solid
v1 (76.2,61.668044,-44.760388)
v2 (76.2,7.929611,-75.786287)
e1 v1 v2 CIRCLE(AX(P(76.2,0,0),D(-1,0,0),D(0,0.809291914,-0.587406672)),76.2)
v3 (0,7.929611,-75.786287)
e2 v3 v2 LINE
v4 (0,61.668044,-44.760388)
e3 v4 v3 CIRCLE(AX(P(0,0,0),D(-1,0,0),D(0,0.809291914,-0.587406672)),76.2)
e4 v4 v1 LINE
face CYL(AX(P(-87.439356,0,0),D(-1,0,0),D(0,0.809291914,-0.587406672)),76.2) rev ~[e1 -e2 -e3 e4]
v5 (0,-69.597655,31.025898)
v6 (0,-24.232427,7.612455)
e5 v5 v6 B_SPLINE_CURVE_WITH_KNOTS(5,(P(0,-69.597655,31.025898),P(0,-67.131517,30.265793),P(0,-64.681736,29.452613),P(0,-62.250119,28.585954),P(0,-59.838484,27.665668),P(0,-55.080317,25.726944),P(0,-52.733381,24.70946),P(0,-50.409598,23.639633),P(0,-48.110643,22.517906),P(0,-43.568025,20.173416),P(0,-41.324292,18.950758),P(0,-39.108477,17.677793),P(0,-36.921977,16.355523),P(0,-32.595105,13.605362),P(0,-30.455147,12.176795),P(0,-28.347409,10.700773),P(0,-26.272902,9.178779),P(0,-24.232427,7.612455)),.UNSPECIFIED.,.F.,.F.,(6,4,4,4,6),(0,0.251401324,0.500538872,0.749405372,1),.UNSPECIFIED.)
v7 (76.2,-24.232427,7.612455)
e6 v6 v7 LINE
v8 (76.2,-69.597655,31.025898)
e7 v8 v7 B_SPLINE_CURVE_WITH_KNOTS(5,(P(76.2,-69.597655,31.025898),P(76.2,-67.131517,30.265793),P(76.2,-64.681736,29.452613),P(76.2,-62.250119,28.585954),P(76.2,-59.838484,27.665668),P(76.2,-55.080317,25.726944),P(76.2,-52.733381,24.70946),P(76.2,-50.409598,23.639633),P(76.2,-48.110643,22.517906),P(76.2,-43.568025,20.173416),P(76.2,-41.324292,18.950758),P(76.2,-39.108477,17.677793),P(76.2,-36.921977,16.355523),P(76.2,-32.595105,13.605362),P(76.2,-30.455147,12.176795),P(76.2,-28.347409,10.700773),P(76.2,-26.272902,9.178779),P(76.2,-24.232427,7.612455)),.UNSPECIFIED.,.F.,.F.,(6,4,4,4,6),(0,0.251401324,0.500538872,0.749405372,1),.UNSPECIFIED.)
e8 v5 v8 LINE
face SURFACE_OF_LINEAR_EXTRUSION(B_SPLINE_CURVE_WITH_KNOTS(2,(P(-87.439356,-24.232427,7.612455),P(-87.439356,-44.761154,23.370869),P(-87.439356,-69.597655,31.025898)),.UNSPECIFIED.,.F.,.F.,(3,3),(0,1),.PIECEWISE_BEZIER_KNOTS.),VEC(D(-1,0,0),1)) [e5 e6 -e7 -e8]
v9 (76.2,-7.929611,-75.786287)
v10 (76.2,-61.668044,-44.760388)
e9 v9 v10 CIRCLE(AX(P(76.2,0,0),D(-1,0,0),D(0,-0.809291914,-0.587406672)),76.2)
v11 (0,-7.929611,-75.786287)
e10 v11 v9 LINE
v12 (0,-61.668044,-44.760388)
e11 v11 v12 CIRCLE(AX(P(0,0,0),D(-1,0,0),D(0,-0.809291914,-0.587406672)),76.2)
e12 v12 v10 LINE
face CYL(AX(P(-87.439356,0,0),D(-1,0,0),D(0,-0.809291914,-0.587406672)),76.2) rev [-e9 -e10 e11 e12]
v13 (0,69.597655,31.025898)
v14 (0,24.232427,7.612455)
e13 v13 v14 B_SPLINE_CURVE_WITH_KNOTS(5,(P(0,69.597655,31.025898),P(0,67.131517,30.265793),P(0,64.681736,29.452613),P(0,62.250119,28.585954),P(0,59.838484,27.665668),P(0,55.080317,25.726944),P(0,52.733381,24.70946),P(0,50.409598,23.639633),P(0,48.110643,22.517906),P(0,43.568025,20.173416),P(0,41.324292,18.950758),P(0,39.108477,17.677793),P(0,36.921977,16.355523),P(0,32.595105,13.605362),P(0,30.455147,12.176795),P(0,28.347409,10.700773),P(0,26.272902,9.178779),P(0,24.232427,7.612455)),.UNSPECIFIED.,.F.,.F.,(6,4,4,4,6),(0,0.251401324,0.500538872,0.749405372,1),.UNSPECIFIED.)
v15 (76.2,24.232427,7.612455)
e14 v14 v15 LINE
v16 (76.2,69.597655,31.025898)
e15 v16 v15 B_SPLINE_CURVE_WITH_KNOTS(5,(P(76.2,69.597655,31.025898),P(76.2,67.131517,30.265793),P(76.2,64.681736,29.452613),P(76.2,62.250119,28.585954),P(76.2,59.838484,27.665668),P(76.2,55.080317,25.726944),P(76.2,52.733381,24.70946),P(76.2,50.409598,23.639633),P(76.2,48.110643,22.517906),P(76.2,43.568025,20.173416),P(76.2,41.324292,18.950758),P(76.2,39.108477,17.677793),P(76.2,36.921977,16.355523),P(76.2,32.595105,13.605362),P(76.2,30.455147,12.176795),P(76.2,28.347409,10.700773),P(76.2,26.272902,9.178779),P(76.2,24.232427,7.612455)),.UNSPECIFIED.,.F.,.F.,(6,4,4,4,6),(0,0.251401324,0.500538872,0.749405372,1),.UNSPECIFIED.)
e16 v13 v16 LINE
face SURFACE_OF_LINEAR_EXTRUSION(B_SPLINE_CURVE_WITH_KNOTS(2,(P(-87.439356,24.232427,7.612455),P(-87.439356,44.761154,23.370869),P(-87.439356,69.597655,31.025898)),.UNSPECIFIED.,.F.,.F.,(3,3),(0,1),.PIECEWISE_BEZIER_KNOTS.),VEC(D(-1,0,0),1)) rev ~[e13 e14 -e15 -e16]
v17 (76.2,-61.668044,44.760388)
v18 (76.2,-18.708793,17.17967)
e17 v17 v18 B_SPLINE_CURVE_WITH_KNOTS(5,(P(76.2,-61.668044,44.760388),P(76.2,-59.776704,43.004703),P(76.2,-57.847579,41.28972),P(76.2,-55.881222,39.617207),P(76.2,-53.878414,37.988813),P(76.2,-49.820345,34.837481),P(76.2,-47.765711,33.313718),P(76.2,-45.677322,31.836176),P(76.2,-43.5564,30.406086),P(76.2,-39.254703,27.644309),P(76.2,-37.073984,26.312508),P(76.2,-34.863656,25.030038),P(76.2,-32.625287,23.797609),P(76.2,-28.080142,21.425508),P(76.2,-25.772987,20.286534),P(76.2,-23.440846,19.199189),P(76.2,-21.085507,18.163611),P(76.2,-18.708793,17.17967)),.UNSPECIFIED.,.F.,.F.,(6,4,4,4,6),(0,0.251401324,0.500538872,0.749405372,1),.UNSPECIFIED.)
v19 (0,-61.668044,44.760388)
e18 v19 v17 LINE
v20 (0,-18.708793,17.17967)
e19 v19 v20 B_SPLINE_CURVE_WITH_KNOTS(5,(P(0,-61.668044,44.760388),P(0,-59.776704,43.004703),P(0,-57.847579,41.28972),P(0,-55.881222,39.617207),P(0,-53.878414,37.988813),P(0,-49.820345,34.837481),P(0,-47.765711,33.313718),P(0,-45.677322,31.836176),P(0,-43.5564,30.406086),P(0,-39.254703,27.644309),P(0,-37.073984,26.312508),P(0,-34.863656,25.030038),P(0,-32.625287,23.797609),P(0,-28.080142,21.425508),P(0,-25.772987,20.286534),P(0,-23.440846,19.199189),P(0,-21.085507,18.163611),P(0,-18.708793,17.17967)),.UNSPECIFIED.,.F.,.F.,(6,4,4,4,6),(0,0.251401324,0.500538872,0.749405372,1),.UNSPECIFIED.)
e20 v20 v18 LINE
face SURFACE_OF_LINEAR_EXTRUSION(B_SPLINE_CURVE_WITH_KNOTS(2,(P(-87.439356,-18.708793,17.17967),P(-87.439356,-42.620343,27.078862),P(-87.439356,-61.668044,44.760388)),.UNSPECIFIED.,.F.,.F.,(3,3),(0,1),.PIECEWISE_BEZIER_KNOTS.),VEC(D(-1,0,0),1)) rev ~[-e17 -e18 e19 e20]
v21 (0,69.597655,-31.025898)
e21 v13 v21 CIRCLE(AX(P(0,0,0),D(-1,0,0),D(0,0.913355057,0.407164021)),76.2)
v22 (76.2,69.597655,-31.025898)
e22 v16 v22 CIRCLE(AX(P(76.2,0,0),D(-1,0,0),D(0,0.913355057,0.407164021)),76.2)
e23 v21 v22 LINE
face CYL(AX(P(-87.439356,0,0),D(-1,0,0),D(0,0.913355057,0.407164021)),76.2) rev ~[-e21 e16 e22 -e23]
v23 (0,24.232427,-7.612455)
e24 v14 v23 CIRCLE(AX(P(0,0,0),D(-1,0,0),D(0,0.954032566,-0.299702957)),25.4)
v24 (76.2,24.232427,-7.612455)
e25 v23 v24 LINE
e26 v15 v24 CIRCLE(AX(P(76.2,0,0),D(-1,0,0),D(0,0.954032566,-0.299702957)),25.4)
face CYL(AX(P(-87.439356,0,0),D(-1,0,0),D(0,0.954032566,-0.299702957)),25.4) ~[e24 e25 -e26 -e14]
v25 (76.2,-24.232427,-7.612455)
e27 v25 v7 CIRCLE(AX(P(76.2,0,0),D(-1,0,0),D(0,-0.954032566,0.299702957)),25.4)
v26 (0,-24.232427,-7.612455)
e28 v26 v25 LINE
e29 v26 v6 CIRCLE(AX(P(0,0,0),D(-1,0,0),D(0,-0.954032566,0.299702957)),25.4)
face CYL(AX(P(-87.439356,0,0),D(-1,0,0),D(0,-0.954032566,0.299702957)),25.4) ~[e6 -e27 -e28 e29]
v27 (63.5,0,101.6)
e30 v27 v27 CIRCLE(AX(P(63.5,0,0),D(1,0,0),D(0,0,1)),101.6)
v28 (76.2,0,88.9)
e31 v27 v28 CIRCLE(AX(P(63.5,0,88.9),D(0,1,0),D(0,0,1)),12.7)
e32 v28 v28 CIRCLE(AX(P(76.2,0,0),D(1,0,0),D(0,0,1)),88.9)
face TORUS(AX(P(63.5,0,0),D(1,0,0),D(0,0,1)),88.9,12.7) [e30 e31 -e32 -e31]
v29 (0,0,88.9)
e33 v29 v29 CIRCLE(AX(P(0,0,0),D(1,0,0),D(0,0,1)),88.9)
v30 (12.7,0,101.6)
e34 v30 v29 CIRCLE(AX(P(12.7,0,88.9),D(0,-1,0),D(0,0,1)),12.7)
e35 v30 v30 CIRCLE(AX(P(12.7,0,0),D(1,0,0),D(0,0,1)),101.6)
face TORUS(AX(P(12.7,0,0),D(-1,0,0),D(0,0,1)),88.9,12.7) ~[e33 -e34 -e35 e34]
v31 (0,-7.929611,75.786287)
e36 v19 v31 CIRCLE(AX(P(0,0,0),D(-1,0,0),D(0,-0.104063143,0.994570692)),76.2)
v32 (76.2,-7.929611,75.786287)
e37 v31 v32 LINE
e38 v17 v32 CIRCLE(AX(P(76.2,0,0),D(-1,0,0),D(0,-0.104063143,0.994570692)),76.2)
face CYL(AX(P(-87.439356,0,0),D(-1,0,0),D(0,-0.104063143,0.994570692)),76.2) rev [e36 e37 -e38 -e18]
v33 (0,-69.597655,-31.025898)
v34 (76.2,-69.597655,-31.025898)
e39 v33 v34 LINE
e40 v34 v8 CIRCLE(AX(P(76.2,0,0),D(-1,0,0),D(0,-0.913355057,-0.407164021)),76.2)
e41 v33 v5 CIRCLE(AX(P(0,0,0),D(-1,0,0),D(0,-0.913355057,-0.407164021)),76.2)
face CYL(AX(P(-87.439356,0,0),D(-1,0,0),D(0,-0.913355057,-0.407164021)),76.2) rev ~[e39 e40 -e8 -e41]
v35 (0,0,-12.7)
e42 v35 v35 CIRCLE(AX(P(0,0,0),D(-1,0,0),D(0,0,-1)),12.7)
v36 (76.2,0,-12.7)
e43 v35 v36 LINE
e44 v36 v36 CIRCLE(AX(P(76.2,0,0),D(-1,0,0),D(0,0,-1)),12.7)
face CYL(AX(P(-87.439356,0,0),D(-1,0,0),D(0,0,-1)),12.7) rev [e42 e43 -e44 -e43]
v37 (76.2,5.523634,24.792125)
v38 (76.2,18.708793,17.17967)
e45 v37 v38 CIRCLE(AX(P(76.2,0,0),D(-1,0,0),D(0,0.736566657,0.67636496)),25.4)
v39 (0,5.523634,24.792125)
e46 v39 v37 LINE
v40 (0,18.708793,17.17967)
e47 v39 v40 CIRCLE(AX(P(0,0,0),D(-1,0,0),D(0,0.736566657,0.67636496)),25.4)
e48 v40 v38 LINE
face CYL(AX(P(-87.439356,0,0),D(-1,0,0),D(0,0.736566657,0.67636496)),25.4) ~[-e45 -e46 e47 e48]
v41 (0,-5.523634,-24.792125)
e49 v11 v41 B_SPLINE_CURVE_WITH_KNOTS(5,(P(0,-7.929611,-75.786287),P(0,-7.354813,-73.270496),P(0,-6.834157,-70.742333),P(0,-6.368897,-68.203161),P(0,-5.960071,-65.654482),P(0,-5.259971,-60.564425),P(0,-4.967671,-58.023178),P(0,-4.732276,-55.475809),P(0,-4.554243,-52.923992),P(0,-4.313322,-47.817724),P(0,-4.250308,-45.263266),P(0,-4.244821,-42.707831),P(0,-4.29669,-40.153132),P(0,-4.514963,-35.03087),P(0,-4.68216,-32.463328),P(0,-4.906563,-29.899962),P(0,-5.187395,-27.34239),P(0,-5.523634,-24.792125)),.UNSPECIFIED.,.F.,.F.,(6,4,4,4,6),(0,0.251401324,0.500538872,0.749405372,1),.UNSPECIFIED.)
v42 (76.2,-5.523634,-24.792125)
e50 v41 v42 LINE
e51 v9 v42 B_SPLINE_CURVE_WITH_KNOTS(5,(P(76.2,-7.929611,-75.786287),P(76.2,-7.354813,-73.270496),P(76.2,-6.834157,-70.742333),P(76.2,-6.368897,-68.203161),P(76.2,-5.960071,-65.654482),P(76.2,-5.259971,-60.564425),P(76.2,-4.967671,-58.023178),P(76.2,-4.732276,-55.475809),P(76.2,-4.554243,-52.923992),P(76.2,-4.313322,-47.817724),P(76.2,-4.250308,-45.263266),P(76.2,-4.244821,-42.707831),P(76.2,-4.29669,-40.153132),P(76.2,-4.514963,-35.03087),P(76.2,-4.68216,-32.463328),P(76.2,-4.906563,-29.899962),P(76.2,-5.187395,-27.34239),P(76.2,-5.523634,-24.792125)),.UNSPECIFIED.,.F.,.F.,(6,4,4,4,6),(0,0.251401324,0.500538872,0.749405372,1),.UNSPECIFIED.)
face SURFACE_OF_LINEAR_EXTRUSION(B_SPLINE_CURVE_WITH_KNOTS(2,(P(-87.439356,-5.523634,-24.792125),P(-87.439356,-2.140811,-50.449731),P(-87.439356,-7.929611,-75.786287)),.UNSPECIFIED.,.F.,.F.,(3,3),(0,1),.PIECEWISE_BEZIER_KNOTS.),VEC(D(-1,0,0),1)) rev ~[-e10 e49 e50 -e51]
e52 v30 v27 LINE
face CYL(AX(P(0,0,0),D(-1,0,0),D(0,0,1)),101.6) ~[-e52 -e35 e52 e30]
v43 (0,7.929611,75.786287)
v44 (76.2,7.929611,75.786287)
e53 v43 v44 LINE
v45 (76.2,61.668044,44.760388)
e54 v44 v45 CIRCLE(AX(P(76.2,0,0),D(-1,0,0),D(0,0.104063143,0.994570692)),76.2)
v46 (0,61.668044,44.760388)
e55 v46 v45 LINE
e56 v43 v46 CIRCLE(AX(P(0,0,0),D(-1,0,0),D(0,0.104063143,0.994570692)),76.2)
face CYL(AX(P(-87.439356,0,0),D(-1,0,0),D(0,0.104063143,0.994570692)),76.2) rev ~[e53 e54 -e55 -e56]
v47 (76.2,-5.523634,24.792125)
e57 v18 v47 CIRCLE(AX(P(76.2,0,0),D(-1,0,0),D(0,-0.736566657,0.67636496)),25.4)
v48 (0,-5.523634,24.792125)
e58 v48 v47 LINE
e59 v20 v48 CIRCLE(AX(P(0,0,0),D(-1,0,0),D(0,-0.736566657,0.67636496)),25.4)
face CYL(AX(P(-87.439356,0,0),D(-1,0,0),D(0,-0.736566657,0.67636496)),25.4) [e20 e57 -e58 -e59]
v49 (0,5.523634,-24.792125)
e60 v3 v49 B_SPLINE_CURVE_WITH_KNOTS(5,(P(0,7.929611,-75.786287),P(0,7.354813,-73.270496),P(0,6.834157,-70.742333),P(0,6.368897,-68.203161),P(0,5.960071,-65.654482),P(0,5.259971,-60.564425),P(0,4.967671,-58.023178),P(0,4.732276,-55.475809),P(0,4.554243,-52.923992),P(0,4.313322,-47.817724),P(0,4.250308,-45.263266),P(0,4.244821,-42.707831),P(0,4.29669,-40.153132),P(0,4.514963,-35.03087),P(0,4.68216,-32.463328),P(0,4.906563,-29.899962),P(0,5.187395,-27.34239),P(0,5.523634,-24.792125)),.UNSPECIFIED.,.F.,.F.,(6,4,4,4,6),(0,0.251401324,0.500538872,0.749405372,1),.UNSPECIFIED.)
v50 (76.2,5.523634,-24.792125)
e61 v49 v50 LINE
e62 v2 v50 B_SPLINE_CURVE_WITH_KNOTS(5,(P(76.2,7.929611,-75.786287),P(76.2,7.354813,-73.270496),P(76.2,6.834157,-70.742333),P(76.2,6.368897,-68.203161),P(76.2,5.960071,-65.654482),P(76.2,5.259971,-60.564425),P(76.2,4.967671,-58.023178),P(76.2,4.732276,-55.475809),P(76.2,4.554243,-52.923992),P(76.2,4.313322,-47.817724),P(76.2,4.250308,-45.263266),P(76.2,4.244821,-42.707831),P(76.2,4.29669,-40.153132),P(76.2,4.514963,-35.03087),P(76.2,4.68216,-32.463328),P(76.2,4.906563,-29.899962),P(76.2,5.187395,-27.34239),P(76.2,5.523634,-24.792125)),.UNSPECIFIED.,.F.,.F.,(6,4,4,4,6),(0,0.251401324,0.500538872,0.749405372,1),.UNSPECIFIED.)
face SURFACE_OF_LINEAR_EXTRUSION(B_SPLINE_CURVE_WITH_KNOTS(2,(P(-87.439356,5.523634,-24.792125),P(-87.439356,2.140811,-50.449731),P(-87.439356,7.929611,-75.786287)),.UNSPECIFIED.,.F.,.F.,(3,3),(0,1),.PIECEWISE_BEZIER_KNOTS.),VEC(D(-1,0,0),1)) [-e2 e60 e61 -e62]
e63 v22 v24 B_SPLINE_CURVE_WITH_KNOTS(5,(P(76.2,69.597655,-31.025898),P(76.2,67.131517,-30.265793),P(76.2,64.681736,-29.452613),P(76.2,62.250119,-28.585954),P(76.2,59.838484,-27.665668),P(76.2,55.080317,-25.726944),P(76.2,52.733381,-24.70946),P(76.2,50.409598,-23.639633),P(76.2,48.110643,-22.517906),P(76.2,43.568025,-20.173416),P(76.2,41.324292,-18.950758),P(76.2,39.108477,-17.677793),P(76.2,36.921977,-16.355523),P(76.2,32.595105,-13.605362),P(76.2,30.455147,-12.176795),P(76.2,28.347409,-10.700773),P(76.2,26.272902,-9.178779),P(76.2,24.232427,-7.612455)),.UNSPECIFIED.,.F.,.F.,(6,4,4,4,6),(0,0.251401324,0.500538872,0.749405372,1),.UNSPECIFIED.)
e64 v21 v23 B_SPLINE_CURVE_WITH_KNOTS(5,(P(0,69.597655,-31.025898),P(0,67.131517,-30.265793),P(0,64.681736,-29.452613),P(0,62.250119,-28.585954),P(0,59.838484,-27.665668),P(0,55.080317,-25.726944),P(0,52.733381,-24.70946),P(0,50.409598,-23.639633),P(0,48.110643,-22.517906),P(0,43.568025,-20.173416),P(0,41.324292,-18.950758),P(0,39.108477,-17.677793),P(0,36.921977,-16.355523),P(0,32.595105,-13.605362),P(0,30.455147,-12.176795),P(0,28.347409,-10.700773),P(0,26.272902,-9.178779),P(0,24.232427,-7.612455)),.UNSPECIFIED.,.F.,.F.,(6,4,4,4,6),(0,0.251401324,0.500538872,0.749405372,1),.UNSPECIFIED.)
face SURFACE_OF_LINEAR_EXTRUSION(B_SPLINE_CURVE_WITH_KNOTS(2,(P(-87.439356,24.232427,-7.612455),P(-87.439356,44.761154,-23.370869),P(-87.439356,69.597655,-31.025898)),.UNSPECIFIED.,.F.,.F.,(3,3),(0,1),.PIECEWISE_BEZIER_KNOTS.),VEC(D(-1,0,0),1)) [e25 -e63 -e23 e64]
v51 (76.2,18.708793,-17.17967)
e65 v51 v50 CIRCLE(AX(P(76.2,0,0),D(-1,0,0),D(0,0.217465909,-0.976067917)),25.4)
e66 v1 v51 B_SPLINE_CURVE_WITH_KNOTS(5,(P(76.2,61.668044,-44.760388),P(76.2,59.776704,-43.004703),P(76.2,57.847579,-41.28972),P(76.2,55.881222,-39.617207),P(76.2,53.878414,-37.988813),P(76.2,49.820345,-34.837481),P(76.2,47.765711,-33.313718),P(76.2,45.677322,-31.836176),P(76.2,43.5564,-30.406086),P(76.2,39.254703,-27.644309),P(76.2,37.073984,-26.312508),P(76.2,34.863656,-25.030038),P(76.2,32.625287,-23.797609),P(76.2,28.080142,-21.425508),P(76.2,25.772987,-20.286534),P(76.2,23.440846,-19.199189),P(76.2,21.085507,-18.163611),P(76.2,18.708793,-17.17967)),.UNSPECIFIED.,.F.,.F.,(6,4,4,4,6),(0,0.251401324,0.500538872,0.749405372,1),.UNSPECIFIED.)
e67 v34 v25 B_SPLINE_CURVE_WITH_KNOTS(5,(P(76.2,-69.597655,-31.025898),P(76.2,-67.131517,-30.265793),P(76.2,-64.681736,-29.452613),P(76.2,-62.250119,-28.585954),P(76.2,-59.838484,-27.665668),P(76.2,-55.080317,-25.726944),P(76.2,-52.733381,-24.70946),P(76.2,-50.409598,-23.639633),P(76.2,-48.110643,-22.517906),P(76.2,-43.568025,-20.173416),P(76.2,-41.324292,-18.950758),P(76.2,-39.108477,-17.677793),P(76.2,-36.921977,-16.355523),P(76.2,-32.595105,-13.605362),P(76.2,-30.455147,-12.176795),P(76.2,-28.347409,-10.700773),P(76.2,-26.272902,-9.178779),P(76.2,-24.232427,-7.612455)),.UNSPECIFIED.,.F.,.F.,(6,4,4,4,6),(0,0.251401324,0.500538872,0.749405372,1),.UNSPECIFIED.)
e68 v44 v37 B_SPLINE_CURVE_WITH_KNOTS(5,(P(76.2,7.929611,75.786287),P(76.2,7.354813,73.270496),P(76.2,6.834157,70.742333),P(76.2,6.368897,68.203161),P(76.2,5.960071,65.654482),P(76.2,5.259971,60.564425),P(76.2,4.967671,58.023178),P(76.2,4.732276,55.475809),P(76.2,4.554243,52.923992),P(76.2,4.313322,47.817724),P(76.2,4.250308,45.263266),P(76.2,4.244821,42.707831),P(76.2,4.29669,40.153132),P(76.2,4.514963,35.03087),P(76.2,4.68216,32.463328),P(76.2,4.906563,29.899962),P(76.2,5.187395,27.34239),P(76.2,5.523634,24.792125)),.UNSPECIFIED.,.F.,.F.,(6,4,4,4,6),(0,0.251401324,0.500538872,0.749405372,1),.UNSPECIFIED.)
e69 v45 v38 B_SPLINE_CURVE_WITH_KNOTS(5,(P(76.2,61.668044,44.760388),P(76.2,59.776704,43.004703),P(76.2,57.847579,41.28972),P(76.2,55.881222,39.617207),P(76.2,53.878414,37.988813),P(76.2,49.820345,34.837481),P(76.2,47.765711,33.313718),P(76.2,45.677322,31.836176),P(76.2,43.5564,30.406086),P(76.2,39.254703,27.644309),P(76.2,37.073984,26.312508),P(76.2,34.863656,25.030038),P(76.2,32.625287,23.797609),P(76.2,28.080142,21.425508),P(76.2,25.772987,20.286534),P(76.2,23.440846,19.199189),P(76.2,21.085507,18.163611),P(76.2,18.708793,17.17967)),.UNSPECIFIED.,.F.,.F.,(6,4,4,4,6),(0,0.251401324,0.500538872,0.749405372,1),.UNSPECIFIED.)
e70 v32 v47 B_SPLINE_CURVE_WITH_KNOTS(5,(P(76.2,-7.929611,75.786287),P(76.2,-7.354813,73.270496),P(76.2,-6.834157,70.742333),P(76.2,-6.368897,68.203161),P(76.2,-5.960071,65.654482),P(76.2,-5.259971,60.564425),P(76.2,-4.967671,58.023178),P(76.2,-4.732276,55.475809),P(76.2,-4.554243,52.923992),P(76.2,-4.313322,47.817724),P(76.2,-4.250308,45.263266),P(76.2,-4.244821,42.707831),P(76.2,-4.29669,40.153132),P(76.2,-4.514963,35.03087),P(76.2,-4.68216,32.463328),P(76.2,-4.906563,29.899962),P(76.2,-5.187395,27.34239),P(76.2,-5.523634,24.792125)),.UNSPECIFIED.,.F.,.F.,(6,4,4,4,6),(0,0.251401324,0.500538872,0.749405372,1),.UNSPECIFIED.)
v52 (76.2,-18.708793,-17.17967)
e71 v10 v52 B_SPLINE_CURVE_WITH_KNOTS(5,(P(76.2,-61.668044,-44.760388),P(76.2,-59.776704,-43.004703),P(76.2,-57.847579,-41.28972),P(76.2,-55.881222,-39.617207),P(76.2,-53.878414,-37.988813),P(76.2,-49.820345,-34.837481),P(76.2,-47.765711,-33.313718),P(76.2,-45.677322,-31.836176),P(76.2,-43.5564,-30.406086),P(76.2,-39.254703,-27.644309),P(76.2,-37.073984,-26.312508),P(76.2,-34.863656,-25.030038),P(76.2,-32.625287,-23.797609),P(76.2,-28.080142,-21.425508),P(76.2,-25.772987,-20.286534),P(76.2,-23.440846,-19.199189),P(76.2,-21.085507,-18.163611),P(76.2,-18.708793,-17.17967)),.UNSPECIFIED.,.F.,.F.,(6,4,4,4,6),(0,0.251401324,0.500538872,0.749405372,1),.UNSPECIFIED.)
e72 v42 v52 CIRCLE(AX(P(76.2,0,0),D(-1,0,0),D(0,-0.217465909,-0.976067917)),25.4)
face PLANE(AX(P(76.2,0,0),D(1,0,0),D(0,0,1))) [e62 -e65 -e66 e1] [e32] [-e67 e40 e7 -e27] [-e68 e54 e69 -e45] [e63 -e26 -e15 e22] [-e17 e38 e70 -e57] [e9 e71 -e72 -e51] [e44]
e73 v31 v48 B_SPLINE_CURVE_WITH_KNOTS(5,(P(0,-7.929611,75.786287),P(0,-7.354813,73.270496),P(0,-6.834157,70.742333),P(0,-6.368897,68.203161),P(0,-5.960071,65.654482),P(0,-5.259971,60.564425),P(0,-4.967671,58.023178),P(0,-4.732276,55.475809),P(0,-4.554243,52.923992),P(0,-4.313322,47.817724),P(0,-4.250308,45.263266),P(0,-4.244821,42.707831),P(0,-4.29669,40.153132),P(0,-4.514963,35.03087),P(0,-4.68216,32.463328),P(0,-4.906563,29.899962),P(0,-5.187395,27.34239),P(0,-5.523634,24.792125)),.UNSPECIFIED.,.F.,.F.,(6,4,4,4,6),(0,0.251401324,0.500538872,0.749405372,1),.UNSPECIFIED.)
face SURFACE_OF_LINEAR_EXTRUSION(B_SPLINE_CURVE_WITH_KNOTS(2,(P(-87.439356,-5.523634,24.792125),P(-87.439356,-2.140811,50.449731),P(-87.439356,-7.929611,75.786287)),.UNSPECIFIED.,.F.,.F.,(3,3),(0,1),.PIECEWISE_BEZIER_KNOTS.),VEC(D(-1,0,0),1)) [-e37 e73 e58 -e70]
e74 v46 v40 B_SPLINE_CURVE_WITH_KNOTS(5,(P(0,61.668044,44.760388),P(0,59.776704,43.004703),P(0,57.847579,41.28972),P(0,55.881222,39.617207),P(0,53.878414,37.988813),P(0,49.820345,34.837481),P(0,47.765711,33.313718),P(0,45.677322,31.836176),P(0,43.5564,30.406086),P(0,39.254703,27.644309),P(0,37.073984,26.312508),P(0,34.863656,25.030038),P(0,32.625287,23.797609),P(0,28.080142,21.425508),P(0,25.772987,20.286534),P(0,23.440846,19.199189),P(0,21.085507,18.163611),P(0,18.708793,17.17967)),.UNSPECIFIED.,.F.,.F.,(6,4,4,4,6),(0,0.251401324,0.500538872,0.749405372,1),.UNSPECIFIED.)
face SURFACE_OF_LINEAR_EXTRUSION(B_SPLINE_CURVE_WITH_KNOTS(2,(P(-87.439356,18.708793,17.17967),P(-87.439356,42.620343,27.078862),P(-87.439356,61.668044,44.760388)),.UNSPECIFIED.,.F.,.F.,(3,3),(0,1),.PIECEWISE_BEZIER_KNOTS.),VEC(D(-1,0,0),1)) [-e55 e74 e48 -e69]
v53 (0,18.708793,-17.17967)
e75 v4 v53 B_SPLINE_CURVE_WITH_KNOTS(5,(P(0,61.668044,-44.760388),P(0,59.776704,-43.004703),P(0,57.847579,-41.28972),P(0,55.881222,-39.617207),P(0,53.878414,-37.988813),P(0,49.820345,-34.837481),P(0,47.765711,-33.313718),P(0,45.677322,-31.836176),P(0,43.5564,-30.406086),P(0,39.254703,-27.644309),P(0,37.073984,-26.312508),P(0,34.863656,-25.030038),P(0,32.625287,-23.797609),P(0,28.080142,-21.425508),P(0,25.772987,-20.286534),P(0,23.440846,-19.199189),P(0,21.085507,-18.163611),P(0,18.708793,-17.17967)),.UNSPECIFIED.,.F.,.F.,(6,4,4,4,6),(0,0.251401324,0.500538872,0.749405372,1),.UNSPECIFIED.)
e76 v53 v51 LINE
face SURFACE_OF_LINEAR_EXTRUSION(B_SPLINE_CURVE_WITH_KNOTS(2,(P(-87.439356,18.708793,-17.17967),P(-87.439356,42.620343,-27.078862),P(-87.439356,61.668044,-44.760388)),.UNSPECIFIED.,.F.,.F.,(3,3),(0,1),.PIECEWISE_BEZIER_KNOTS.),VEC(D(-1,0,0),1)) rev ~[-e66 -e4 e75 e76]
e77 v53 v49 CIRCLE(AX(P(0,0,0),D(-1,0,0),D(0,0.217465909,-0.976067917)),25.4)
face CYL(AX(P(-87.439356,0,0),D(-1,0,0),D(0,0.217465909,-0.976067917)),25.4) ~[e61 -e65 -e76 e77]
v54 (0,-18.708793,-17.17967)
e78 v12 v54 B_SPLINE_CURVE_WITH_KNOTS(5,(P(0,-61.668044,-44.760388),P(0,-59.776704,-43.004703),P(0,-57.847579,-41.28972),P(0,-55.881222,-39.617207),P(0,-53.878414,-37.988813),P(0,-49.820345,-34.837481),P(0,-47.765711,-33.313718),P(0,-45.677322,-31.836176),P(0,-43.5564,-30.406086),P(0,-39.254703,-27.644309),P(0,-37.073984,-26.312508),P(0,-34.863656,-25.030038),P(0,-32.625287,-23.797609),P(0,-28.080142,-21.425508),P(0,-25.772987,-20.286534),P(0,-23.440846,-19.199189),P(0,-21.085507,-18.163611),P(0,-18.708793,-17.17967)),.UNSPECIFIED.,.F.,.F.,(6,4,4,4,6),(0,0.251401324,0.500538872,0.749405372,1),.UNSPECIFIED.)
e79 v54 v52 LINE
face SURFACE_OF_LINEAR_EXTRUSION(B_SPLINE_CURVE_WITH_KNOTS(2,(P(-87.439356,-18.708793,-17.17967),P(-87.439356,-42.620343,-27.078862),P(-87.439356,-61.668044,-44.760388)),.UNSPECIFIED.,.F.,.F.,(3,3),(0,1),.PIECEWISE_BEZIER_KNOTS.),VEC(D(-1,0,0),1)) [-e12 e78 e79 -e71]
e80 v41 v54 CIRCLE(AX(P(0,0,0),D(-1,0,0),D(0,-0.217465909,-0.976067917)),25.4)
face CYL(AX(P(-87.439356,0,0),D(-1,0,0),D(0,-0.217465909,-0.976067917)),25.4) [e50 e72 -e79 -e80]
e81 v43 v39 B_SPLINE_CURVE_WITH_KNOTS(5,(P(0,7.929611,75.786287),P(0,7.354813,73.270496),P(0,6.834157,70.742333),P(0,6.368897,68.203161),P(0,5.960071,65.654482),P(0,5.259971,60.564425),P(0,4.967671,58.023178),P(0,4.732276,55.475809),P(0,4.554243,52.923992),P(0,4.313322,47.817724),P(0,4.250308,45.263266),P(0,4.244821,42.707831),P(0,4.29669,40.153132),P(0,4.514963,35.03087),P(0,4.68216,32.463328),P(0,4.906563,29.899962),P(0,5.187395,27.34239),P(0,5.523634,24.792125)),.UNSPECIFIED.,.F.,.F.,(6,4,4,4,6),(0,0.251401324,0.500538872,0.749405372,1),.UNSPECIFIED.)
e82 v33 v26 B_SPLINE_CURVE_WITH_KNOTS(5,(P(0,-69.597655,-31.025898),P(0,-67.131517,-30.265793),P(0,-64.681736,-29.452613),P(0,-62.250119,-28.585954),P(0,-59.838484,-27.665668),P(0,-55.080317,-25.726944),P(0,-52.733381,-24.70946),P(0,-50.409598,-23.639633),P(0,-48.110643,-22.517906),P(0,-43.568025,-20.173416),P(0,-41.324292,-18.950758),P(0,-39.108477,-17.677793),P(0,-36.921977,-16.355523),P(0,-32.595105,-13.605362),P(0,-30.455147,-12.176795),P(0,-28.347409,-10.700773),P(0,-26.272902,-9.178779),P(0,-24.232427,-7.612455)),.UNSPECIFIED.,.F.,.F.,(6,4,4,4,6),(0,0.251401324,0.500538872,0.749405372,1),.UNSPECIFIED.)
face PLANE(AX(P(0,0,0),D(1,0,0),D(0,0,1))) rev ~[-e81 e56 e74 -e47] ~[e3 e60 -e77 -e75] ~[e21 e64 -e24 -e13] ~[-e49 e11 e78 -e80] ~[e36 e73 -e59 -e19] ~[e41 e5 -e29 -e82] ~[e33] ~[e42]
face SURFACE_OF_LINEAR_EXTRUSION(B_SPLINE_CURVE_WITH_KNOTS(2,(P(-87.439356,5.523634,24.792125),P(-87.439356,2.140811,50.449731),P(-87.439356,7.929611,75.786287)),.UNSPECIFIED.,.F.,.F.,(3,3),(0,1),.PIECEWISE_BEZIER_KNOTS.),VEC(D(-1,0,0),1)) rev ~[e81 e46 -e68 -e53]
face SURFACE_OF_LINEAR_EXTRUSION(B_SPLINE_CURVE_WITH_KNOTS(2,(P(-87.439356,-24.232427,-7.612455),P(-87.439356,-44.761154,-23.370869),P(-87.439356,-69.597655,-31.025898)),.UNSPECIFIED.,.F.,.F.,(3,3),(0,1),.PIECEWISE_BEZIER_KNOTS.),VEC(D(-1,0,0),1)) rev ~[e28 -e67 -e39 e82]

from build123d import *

# Parameters (mm, degrees)
SKETCH1_R               = 101.6
BOSS_EXTRUDE1_DEPTH     = 76.2
FILLET1_R               = 12.7
CUT_EXTRUDE1_DEPTH      = 163.639355693
CUT_EXTRUDE1_DEPTH_BACK = 163.639355693
CUT_EXTRUDE2_DEPTH      = 163.63935574
CUT_EXTRUDE2_DEPTH_BACK = 163.63935574
SKETCH5_R               = 12.7


with BuildPart() as part:
    # Sketch1 → Boss-Extrude1 (new body)
    with BuildSketch(Plane.YZ):
        with Locations(Location((0, 0, 0), (0, 0, 90))):
            Circle(SKETCH1_R)
    extrude(amount=BOSS_EXTRUDE1_DEPTH)

    # Fillet1
    fillet1_edges = [part.edges().sort_by_distance(p)[0] for p in [
        (0, 0, -101.6),
        (76.2, 0, -101.6),
    ]]
    fillet(fillet1_edges, radius=FILLET1_R)

    # Sketch2 → Cut-Extrude1 (cut, two sides: drawn at the far end of the back side and taken through both)
    with BuildSketch(Plane.YZ.offset(76.2).offset(-CUT_EXTRUDE1_DEPTH_BACK)):
        with BuildLine():
            ThreePointArc((-24.232427185, 7.612455104), (-25.4, 0), (-24.232427185, -7.612455104))
            add(Edge.make_bspline(
                [(-24.232427185, -7.612455104), (-44.761154303, -23.370868648), (-69.597655338, -31.025898399)],
                knots=[0, 0, 0, 1, 1, 1], degree=2))
            ThreePointArc((-69.597655338, -31.025898399), (-76.2, 0), (-69.597655338, 31.025898399))
            add(Edge.make_bspline(
                [(-24.232427185, 7.612455104), (-44.761154303, 23.370868648), (-69.597655338, 31.025898399)],
                knots=[0, 0, 0, 1, 1, 1], degree=2))
        make_face()
        with BuildLine():
            ThreePointArc((18.708793098, 17.179669986), (12.7, 21.997045256), (5.523634087, 24.79212509))
            add(Edge.make_bspline(
                [(5.523634087, 24.79212509), (2.140811193, 50.449731053), (7.92961148, 75.786286766)],
                knots=[0, 0, 0, 1, 1, 1], degree=2))
            ThreePointArc((7.92961148, 75.786286766), (38.1, 65.991135768), (61.668043858, 44.760388367))
            add(Edge.make_bspline(
                [(18.708793098, 17.179669986), (42.620343109, 27.078862405), (61.668043858, 44.760388367)],
                knots=[0, 0, 0, 1, 1, 1], degree=2))
        make_face()
        with BuildLine():
            ThreePointArc((24.232427185, -7.612455104), (25.4, 0), (24.232427185, 7.612455104))
            add(Edge.make_bspline(
                [(24.232427185, 7.612455104), (44.761154303, 23.370868648), (69.597655338, 31.025898399)],
                knots=[0, 0, 0, 1, 1, 1], degree=2))
            ThreePointArc((69.597655338, 31.025898399), (76.2, 0), (69.597655338, -31.025898399))
            add(Edge.make_bspline(
                [(24.232427185, -7.612455104), (44.761154303, -23.370868648), (69.597655338, -31.025898399)],
                knots=[0, 0, 0, 1, 1, 1], degree=2))
        make_face()
        with BuildLine():
            ThreePointArc((-61.668043858, -44.760388367), (-38.1, -65.991135768), (-7.92961148, -75.786286766))
            add(Edge.make_bspline(
                [(-5.523634087, -24.79212509), (-2.140811193, -50.449731053), (-7.92961148, -75.786286766)],
                knots=[0, 0, 0, 1, 1, 1], degree=2))
            ThreePointArc((-5.523634087, -24.79212509), (-12.7, -21.997045256), (-18.708793098, -17.179669986))
            add(Edge.make_bspline(
                [(-18.708793098, -17.179669986), (-42.620343109, -27.078862405), (-61.668043858, -44.760388367)],
                knots=[0, 0, 0, 1, 1, 1], degree=2))
        make_face()
        with BuildLine():
            ThreePointArc((5.523634087, -24.79212509), (12.7, -21.997045256), (18.708793098, -17.179669986))
            add(Edge.make_bspline(
                [(18.708793098, -17.179669986), (42.620343109, -27.078862405), (61.668043858, -44.760388367)],
                knots=[0, 0, 0, 1, 1, 1], degree=2))
            ThreePointArc((61.668043858, -44.760388367), (38.1, -65.991135768), (7.92961148, -75.786286766))
            add(Edge.make_bspline(
                [(5.523634087, -24.79212509), (2.140811193, -50.449731053), (7.92961148, -75.786286766)],
                knots=[0, 0, 0, 1, 1, 1], degree=2))
        make_face()
        with BuildLine():
            ThreePointArc((-7.92961148, 75.786286766), (-38.1, 65.991135768), (-61.668043858, 44.760388367))
            add(Edge.make_bspline(
                [(-18.708793098, 17.179669986), (-42.620343109, 27.078862405), (-61.668043858, 44.760388367)],
                knots=[0, 0, 0, 1, 1, 1], degree=2))
            ThreePointArc((-18.708793098, 17.179669986), (-12.7, 21.997045256), (-5.523634087, 24.79212509))
            add(Edge.make_bspline(
                [(-5.523634087, 24.79212509), (-2.140811193, 50.449731053), (-7.92961148, 75.786286766)],
                knots=[0, 0, 0, 1, 1, 1], degree=2))
        make_face()
    extrude(amount=CUT_EXTRUDE1_DEPTH + CUT_EXTRUDE1_DEPTH_BACK, mode=Mode.SUBTRACT)

    # Sketch5 → Cut-Extrude2 (cut, two sides: drawn at the far end of the back side and taken through both)
    with BuildSketch(Plane.YZ.offset(76.2).offset(-CUT_EXTRUDE2_DEPTH_BACK)):
        with Locations(Location((0, 0, 0), (0, 0, 270))):
            Circle(SKETCH5_R)
    extrude(amount=CUT_EXTRUDE2_DEPTH + CUT_EXTRUDE2_DEPTH_BACK, mode=Mode.SUBTRACT)


solid = part.part
